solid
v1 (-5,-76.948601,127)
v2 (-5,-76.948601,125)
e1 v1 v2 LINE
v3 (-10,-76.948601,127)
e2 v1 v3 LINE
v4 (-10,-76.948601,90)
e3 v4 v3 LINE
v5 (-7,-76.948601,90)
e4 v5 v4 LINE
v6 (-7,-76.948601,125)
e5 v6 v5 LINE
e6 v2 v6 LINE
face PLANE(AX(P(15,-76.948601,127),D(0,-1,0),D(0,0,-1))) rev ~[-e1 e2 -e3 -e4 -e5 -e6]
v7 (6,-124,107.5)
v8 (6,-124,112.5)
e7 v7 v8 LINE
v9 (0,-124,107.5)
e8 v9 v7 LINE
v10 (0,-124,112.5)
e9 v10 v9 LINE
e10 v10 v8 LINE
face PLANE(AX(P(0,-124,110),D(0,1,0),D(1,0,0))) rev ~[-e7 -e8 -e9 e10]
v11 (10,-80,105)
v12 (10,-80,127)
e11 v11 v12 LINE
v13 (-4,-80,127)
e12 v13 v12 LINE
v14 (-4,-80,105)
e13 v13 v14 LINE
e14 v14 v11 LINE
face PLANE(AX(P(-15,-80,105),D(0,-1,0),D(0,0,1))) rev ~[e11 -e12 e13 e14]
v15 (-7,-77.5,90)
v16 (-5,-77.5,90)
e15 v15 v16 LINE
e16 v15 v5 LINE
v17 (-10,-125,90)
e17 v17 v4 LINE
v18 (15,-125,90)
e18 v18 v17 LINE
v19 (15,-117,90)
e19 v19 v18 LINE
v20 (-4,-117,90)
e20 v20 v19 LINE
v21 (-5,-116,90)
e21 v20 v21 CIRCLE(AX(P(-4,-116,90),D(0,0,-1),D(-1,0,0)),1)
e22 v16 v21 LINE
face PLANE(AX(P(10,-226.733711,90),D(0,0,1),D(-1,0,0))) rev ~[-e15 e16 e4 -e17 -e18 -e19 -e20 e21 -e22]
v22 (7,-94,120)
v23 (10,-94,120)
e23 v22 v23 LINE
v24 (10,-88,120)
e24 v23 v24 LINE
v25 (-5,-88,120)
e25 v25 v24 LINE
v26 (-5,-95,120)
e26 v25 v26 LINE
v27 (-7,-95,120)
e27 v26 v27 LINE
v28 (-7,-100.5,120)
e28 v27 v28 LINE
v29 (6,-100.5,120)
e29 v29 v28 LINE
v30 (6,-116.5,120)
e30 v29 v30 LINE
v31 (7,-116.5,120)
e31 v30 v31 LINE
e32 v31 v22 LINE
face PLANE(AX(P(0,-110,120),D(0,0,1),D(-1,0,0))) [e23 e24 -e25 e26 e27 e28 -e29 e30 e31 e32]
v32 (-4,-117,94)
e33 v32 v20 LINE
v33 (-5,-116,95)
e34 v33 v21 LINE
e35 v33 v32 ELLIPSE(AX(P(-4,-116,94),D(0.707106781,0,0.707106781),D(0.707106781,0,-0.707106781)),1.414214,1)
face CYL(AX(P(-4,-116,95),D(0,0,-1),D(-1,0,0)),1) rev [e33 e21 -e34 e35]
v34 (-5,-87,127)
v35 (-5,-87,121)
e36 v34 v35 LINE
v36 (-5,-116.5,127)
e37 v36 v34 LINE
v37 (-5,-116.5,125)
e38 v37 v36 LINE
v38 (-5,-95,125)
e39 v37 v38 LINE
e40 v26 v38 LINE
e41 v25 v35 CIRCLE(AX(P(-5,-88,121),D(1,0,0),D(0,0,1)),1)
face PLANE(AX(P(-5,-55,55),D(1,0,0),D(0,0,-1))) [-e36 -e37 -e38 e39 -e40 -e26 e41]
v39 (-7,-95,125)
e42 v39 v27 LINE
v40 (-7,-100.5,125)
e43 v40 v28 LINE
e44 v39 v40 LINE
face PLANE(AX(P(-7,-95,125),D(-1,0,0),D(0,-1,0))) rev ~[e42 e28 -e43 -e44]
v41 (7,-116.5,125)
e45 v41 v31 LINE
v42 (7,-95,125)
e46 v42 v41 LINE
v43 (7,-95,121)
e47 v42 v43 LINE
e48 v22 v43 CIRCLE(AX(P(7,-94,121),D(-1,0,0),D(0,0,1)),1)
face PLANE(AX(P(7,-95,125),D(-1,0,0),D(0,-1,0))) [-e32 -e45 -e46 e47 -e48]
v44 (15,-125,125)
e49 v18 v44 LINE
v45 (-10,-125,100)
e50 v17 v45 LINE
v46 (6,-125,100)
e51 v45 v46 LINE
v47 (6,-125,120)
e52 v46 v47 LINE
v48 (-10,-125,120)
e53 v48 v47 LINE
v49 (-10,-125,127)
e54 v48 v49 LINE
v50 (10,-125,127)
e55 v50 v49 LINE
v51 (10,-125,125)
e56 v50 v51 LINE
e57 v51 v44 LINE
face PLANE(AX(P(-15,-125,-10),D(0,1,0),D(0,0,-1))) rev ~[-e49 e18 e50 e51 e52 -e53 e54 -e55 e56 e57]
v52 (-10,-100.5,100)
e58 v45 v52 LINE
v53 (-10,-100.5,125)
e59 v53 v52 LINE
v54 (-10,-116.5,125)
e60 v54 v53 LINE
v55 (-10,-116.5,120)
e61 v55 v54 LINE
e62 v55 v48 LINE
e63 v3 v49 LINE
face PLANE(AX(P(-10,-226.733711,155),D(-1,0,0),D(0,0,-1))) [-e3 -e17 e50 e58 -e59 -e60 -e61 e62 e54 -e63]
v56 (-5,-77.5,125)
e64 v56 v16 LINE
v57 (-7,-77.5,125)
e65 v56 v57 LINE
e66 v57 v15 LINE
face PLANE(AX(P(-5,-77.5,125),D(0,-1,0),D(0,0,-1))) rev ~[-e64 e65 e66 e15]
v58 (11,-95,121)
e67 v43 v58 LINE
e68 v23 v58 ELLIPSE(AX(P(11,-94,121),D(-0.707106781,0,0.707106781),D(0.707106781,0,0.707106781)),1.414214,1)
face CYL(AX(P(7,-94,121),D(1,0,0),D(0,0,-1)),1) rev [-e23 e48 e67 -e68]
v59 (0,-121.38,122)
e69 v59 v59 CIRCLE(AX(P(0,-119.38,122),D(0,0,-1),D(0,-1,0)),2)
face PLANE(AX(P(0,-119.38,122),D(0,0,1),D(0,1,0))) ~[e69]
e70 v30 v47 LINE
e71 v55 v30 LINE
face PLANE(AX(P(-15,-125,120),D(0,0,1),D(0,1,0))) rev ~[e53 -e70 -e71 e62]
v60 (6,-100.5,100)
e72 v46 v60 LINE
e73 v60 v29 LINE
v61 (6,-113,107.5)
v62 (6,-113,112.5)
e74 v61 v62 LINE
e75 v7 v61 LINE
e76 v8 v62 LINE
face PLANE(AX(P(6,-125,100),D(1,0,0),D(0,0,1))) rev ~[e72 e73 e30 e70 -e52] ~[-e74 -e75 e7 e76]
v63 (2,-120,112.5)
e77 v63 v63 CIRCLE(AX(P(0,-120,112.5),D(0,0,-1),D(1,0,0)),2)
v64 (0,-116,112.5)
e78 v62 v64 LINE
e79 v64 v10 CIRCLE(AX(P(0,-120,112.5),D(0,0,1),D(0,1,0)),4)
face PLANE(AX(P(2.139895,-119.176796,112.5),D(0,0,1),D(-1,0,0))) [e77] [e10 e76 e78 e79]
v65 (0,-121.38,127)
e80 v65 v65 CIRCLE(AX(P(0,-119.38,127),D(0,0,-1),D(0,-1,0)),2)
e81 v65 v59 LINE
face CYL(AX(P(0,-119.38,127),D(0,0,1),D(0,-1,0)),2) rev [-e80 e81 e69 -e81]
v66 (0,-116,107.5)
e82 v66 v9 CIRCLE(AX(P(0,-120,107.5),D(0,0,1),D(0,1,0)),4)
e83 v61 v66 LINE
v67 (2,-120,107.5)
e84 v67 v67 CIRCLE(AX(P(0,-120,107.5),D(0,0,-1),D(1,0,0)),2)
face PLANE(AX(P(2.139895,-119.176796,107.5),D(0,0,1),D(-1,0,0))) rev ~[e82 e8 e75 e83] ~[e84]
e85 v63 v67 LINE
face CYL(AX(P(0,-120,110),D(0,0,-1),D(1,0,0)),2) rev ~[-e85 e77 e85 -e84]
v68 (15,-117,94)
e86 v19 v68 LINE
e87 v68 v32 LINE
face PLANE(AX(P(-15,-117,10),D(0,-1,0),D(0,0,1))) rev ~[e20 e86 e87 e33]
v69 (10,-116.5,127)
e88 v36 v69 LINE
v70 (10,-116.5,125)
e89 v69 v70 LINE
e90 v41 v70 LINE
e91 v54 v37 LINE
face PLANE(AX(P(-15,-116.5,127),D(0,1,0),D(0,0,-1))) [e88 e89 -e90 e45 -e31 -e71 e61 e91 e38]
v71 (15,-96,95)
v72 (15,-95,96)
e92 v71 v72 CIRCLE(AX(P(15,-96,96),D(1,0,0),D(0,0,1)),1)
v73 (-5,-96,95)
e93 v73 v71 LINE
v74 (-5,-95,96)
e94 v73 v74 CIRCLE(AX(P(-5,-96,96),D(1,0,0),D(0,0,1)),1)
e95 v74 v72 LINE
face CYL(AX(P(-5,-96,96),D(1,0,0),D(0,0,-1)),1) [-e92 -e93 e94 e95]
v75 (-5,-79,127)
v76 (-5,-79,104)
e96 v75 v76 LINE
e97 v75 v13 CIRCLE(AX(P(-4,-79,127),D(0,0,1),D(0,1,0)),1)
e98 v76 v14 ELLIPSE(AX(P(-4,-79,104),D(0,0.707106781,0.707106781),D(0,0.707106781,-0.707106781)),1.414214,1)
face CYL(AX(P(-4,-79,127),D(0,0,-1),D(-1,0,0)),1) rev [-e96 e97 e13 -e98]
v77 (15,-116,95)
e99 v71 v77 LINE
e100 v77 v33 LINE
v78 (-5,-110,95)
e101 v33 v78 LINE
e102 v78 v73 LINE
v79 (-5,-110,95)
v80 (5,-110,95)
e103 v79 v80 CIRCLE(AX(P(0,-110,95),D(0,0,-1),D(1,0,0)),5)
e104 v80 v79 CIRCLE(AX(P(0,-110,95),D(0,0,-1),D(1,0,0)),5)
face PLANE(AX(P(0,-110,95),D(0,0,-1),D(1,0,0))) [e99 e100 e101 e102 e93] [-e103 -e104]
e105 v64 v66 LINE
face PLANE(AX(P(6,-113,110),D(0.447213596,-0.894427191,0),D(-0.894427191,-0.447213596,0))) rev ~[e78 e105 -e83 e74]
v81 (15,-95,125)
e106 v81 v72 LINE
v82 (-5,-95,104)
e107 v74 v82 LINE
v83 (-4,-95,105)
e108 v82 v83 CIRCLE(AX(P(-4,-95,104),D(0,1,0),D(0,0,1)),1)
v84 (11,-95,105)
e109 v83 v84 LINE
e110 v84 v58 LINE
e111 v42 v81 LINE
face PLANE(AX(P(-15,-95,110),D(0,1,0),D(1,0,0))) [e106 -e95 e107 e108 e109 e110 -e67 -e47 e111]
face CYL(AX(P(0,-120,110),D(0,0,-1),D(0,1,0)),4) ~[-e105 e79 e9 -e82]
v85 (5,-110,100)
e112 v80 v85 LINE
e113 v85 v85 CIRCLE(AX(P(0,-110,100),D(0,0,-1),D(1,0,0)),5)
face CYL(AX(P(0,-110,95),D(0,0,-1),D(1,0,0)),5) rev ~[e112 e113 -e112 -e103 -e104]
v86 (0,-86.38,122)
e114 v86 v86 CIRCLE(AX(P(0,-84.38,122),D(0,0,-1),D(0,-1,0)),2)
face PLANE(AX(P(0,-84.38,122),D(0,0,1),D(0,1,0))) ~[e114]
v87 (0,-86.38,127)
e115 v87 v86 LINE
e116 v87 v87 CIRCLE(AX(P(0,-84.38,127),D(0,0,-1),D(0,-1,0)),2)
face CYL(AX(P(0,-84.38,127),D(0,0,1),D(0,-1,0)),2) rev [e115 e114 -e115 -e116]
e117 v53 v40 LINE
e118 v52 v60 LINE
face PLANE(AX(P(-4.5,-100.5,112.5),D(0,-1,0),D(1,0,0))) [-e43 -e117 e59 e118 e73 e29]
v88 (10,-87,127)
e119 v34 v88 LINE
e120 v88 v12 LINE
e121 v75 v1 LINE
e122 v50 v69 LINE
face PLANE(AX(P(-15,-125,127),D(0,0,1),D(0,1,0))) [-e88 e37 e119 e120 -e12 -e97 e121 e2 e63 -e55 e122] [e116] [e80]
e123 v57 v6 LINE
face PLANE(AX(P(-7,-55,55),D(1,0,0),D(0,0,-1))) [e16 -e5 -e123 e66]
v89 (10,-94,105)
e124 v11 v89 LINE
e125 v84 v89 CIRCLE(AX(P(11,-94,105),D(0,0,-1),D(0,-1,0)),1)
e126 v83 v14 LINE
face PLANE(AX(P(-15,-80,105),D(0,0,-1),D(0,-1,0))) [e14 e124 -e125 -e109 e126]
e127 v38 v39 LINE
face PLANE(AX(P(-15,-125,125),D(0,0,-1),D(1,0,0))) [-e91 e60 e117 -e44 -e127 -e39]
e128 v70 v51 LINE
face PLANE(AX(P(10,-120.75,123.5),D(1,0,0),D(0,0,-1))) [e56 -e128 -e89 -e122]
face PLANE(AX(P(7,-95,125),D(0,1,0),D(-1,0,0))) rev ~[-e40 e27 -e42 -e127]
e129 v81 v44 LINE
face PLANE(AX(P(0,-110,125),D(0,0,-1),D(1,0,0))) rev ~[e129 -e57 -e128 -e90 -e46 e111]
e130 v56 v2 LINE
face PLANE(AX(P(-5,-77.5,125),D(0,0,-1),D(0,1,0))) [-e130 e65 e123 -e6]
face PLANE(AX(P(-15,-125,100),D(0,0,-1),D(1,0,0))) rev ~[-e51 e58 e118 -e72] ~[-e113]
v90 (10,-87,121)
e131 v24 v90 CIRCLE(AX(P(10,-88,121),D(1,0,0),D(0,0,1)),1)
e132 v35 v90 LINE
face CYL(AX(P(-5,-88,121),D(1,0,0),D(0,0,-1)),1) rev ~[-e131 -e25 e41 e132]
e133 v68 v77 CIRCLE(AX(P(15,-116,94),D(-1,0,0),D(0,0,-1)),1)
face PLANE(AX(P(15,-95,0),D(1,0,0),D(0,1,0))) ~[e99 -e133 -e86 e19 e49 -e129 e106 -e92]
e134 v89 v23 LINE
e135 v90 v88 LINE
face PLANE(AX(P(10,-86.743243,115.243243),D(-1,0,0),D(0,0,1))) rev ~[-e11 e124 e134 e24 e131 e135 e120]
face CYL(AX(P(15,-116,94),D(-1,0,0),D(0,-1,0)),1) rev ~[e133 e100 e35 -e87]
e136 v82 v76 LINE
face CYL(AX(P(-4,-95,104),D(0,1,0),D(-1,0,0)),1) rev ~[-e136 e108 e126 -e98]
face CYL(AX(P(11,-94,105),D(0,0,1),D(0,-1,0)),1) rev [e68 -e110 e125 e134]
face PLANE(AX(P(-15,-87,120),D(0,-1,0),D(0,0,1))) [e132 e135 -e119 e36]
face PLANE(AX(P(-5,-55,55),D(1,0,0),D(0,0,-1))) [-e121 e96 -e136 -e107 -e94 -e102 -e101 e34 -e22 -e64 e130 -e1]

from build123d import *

# Parameters (mm, degrees)
SKETCH_2_W                                 = 30
SKETCH_2_H                                 = 30
EXTRUDE_2_DEPTH                            = 15
SKETCH_3_W                                 = 21
SKETCH_3_H                                 = 25
CUT_EXTRUDE_1_DEPTH                        = 24.5
SKETCH_4_R                                 = 5
CUT_EXTRUDE_2_DEPTH                        = 37.742346142
EXTRUDE_3_DEPTH                            = 2.5
SKETCH_6_W                                 = 14
SKETCH_6_H                                 = 30
CUT_EXTRUDE_3_DEPTH                        = 5
SKETCH_8_R                                 = 2
CUT_EXTRUDE_4_DEPTH                        = 2.5
EXTRUDE_4_DEPTH                            = 10
MIRROR_18_AT_THE_SECOND_PLANE_COPY_1_SKE_W = 30
MIRROR_18_AT_THE_SECOND_PLANE_COPY_1_SKE_H = 30
MIRROR_18_AT_THE_SECOND_PLANE_COPY_1_DEPTH = 15
MIRROR_18_AT_THE_SECOND_PLANE_COPY_2_SKE_W = 21
MIRROR_18_AT_THE_SECOND_PLANE_COPY_2_SKE_H = 25
MIRROR_18_AT_THE_SECOND_PLANE_COPY_2_DEPTH = 24.5
MIRROR_18_AT_THE_SECOND_PLANE_COPY_3_SKE_R = 5
MIRROR_18_AT_THE_SECOND_PLANE_COPY_3_DEPTH = 37.742346142
MIRROR_14_AT_THE_SECOND_PLANE_COPY_1_DEPTH = 2.5
MIRROR_14_AT_THE_SECOND_PLANE_COPY_2_SKE_R = 2
MIRROR_14_AT_THE_SECOND_PLANE_COPY_2_DEPTH = 2.5
MIRROR_19_AT_THE_SECOND_PLANE_COPY_1_SKE_W = 14
MIRROR_19_AT_THE_SECOND_PLANE_COPY_1_SKE_H = 30
MIRROR_19_AT_THE_SECOND_PLANE_COPY_1_DEPTH = 5
SKETCH_10_W                                = 90
SKETCH_10_H                                = 8
EXTRUDE_5_DEPTH                            = 30
EXTRUDE_6_DEPTH                            = 15
EXTRUDE_6_DEPTH_BACK                       = 10
SKETCH_11_W                                = 7
SKETCH_11_H                                = 8.5
SKETCH_12_W                                = 140
SKETCH_12_H                                = 45
CUT_EXTRUDE_5_DEPTH                        = 2
SKETCH_15_R                                = 2.5
SKETCH_15_W                                = 15
SKETCH_15_H                                = 40
SKETCH_15_W_2                              = 25
SKETCH_15_H_2                              = 11.861851271
CUT_EXTRUDE_7_DEPTH                        = 201.124960962
SKETCH_14_R                                = 2
CUT_EXTRUDE_6_DEPTH                        = 5
FILLET_1_R                                 = 5
SKETCH_17_R                                = 2
CUT_EXTRUDE_8_DEPTH                        = 5
SKETCH_14_6_R                              = 2
CUT_EXTRUDE_9_DEPTH                        = 25
SKETCH_18_R                                = 4.3
CUT_EXTRUDE_10_DEPTH                       = 6
FILLET_2_R                                 = 1
CUT_EXTRUDE_11_DEPTH                       = 171.73371079
CUT_EXTRUDE_11_DEPTH_BACK                  = 171.73371079
SKETCH_19_W                                = 5
SKETCH_19_H                                = 200
CUT_EXTRUDE_12_DEPTH                       = 201.686322404


with BuildPart() as part:
    # 草圖2 → 填料-伸長2 (new, symmetric)
    with BuildSketch(Plane.XY):
        Rectangle(SKETCH_2_W, SKETCH_2_H)
    extrude_2 = extrude(amount=EXTRUDE_2_DEPTH, both=True)

    # 草圖3 → 除料-伸長1 (cut)
    with BuildSketch(Plane(origin=(0, 15, 0), x_dir=(1, 0, 0), z_dir=(0, 1, 0))):
        with Locations((-4.5, 2.5)):
            Rectangle(SKETCH_3_W, SKETCH_3_H)
    cut_extrude_1 = extrude(amount=-CUT_EXTRUDE_1_DEPTH, mode=Mode.SUBTRACT)

    # 草圖4 → 除料-伸長2 (cut, through all)
    with BuildSketch(Plane.XY.offset(15)):
        Circle(SKETCH_4_R)
    cut_extrude_2 = extrude(amount=-CUT_EXTRUDE_2_DEPTH, mode=Mode.SUBTRACT)

    # 草圖6 → 除料-伸長3 (cut)
    with BuildSketch(Plane(origin=(0, 0, -15), x_dir=(-1, 0, 0), z_dir=(0, 0, -1))):
        Rectangle(SKETCH_6_W, SKETCH_6_H)
    cut_extrude_3 = extrude(amount=-CUT_EXTRUDE_3_DEPTH, mode=Mode.SUBTRACT)

    # 草圖9 → 填料-伸長4 (add)
    with BuildSketch(Plane.ZY.offset(15)):
        Polygon((-45, 15), (-10, 15), (-10, -9.5), (10, -9.5), (10, 15), (100, 15), (100, -9.5), (120, -9.5), (120, 15), (155, 15), (155, -125), (120, -125), (120, -100.5), (100, -100.5), (100, -125), (10, -125), (10, -100.5), (-10, -100.5), (-10, -125), (-45, -125), align=None)
    extrude(amount=-EXTRUDE_4_DEPTH)

    # 鏡射18: 填料-伸長2, 除料-伸長1, 除料-伸長2 across plane
    add(extrude_2.mirror(Plane.ZX.offset(-55)))
    add(cut_extrude_1.mirror(Plane.ZX.offset(-55)), mode=Mode.SUBTRACT)
    add(cut_extrude_2.mirror(Plane.ZX.offset(-55)), mode=Mode.SUBTRACT)

    # 鏡射18 at the second plane: 填料-伸長2, 除料-伸長1, 除料-伸長2 across plane
    add(extrude_2.mirror(Plane.XY.offset(55)))
    add(cut_extrude_1.mirror(Plane.XY.offset(55)), mode=Mode.SUBTRACT)
    add(cut_extrude_2.mirror(Plane.XY.offset(55)), mode=Mode.SUBTRACT)

    # 鏡射18 at the second plane copy 1 ske → 鏡射18 at the second plane copy 1 (add, symmetric)
    with BuildSketch(Plane(origin=(0, -110, 110), x_dir=(1, 0, 0), z_dir=(0, 0, -1))):
        Rectangle(MIRROR_18_AT_THE_SECOND_PLANE_COPY_1_SKE_W, MIRROR_18_AT_THE_SECOND_PLANE_COPY_1_SKE_H)
    extrude(amount=MIRROR_18_AT_THE_SECOND_PLANE_COPY_1_DEPTH, both=True)

    # 鏡射18 at the second plane copy 2 ske → 鏡射18 at the second plane copy 2 (cut)
    with BuildSketch(Plane(origin=(0, -125, 110), x_dir=(1, 0, 0), z_dir=(0, -1, 0))):
        with Locations((-4.5, 2.5)):
            Rectangle(MIRROR_18_AT_THE_SECOND_PLANE_COPY_2_SKE_W, MIRROR_18_AT_THE_SECOND_PLANE_COPY_2_SKE_H)
    extrude(amount=-MIRROR_18_AT_THE_SECOND_PLANE_COPY_2_DEPTH, mode=Mode.SUBTRACT)

    # 鏡射18 at the second plane copy 3 ske → 鏡射18 at the second plane copy 3 (cut, through all)
    with BuildSketch(Plane(origin=(0, -110, 95), x_dir=(1, 0, 0), z_dir=(0, 0, -1))):
        Circle(MIRROR_18_AT_THE_SECOND_PLANE_COPY_3_SKE_R)
    extrude(amount=-MIRROR_18_AT_THE_SECOND_PLANE_COPY_3_DEPTH, mode=Mode.SUBTRACT)


with BuildPart() as body_2:
    # 草圖5 → 填料-伸長3 (new, symmetric)
    with BuildSketch(Plane.XY):
        with BuildLine():
            Line((0, 14), (6, 14))
            Line((6, 14), (6, 6))
            Line((6, 6), (6, 3))
            Line((6, 3), (0, 6))
            ThreePointArc((0, 6), (-4, 10), (0, 14))
        make_face()
    extrude_3 = extrude(amount=EXTRUDE_3_DEPTH, both=True)

    # 草圖8 → 除料-伸長4 (cut, symmetric)
    with BuildSketch(Plane.XY):
        with Locations((0, 10)):
            Circle(SKETCH_8_R)
    cut_extrude_4 = extrude(amount=CUT_EXTRUDE_4_DEPTH, both=True, mode=Mode.SUBTRACT)


with BuildPart() as part_1:
    add(part.part)

    # 鏡射14: 填料-伸長3, 除料-伸長4 across plane
    add(extrude_3.mirror(Plane.ZX.offset(-55)))
    add(cut_extrude_4.mirror(Plane.ZX.offset(-55)), mode=Mode.SUBTRACT)

    # 鏡射14 at the second plane: 填料-伸長3, 除料-伸長4 across plane
    add(extrude_3.mirror(Plane.XY.offset(55)))
    add(cut_extrude_4.mirror(Plane.XY.offset(55)), mode=Mode.SUBTRACT)

    # 鏡射14 at the second plane copy 1 ske → 鏡射14 at the second plane copy 1 (add, symmetric)
    with BuildSketch(Plane(origin=(0, -110, 110), x_dir=(1, 0, 0), z_dir=(0, 0, -1))):
        with BuildLine():
            Line((0, 14), (6, 14))
            Line((6, 14), (6, 6))
            Line((6, 6), (6, 3))
            Line((6, 3), (0, 6))
            ThreePointArc((0, 6), (-4, 10), (0, 14))
        make_face()
    extrude(amount=MIRROR_14_AT_THE_SECOND_PLANE_COPY_1_DEPTH, both=True)

    # 鏡射14 at the second plane copy 2 ske → 鏡射14 at the second plane copy 2 (cut, symmetric)
    with BuildSketch(Plane(origin=(0, -110, 110), x_dir=(1, 0, 0), z_dir=(0, 0, -1))):
        with Locations((0, 10)):
            Circle(MIRROR_14_AT_THE_SECOND_PLANE_COPY_2_SKE_R)
    extrude(amount=MIRROR_14_AT_THE_SECOND_PLANE_COPY_2_DEPTH, both=True, mode=Mode.SUBTRACT)

    # 鏡射19: 除料-伸長3 across plane
    add(cut_extrude_3.mirror(Plane.XY.offset(55)), mode=Mode.SUBTRACT)

    # 鏡射19 at the second plane: 除料-伸長3 across plane
    add(cut_extrude_3.mirror(Plane.ZX.offset(-55)), mode=Mode.SUBTRACT)

    # 鏡射19 at the second plane copy 1 ske → 鏡射19 at the second plane copy 1 (cut)
    with BuildSketch(Plane(origin=(0, -110, 125), x_dir=(-1, 0, 0), z_dir=(0, 0, 1))):
        Rectangle(MIRROR_19_AT_THE_SECOND_PLANE_COPY_1_SKE_W, MIRROR_19_AT_THE_SECOND_PLANE_COPY_1_SKE_H)
    extrude(amount=-MIRROR_19_AT_THE_SECOND_PLANE_COPY_1_DEPTH, mode=Mode.SUBTRACT)

    # 草圖10 → 填料-伸長5 (add)
    with BuildSketch(Plane.ZY.offset(15)):
        with Locations((55, 11)):
            Rectangle(SKETCH_10_W, SKETCH_10_H)
        with Locations((55, -121)):
            Rectangle(SKETCH_10_W, SKETCH_10_H)
    extrude(amount=-EXTRUDE_5_DEPTH)

    # 草圖11 → 填料-伸長6 (add, two sides: drawn at the far end of the back side and taken through both)
    with BuildSketch(Plane(origin=(-5, 0, 0), x_dir=(0, 0, -1), z_dir=(1, 0, 0)).offset(-EXTRUDE_6_DEPTH_BACK)):
        with Locations((13.5, 10.75)):
            Rectangle(SKETCH_11_W, SKETCH_11_H)
        with Locations((13.5, -120.75)):
            Rectangle(SKETCH_11_W, SKETCH_11_H)
        Polygon((12.973156493, -80), (17, -80), (17, -87), (10, -87), (10, -95), (-5, -95), (-5, -80), align=None)
        with Locations((-123.5, -120.75)):
            Rectangle(SKETCH_11_W, SKETCH_11_H)
        Polygon((-120, -87), (-127, -87), (-127, -80), (-122.973156493, -80), (-105, -80), (-105, -95), (-120, -95), align=None)
        Polygon((10, -23), (17, -23), (17, -30), (12.973156493, -30), (-5, -30), (-5, -15), (10, -15), align=None)
        Polygon((-122.973156493, -30), (-127, -30), (-127, -23), (-120, -23), (-120, -15), (-105, -15), (-105, -30), align=None)
        with Locations((-123.5, 10.75)):
            Rectangle(SKETCH_11_W, SKETCH_11_H)
    extrude(amount=EXTRUDE_6_DEPTH + EXTRUDE_6_DEPTH_BACK)

    # 草圖12 → 除料-伸長5 (cut)
    with BuildSketch(Plane(origin=(-5, 0, 0), x_dir=(0, 0, -1), z_dir=(1, 0, 0))):
        with Locations((-55, -55)):
            Rectangle(SKETCH_12_W, SKETCH_12_H)
    extrude(amount=-CUT_EXTRUDE_5_DEPTH, mode=Mode.SUBTRACT)

    # 草圖15 → 除料-伸長7 (cut, through all)
    with BuildSketch(Plane(origin=(-5, 0, 0), x_dir=(0, 0, -1), z_dir=(1, 0, 0))):
        with Locations(Location((30, -90, 0), (0, 0, 270))):
            Circle(SKETCH_15_R)
        with Locations(Location((-55, -90, 0), (0, 0, 270))):
            Circle(SKETCH_15_R)
        with Locations(Location((-140, -90, 0), (0, 0, 270))):
            Circle(SKETCH_15_R)
        with Locations(Location((-140, -20, 0), (0, 0, 90))):
            Circle(SKETCH_15_R)
        with Locations(Location((30, -20, 0), (0, 0, 90))):
            Circle(SKETCH_15_R)
        with Locations(Location((-55, -20, 0), (0, 0, 90))):
            Circle(SKETCH_15_R)
        with Locations((-139.005709801, -55)):
            Rectangle(SKETCH_15_W, SKETCH_15_H)
        with Locations((29.005709801, -55)):
            Rectangle(SKETCH_15_W, SKETCH_15_H)
        with Locations((-77.5, -30)):
            Rectangle(SKETCH_15_W_2, SKETCH_15_H)
        with Locations((-77.5, -80)):
            Rectangle(SKETCH_15_W_2, SKETCH_15_H)
        with Locations((-32.5, -80)):
            Rectangle(SKETCH_15_W_2, SKETCH_15_H)
        with Locations((-32.5, -30)):
            Rectangle(SKETCH_15_W_2, SKETCH_15_H)
        with Locations((-139.005709801, -106.804819835)):
            Rectangle(SKETCH_15_W, SKETCH_15_H_2)
        with Locations((-139.005709801, -3.195180166)):
            Rectangle(SKETCH_15_W, SKETCH_15_H_2)
        with Locations((29.005709801, -106.804819835)):
            Rectangle(SKETCH_15_W, SKETCH_15_H_2)
        with Locations((29.005709801, -3.195180166)):
            Rectangle(SKETCH_15_W, SKETCH_15_H_2)
    extrude(amount=-CUT_EXTRUDE_7_DEPTH, mode=Mode.SUBTRACT)

    # 草圖14 → 除料-伸長6 (cut)
    with BuildSketch(Plane(origin=(15, 0, 0), x_dir=(0, 0, -1), z_dir=(1, 0, 0))):
        with Locations(Location((-55, 11, 0), (0, 0, 90))):
            Circle(SKETCH_14_R)
        with Locations(Location((-55, -121, 0), (0, 0, 270))):
            Circle(SKETCH_14_R)
    extrude(amount=-CUT_EXTRUDE_6_DEPTH, mode=Mode.SUBTRACT)

    # 圓角1
    fillet_1_edges = [part_1.edges().sort_by_distance(p)[0] for p in [
        (-10, -125, -45),
        (-10, 15, -45),
        (-10, 15, 155),
        (-10, -125, 155),
        (-10, -75, 146.505709801),
        (-10, -35, 146.505709801),
        (-10, -35, 131.505709801),
        (-10, -75, 131.505709801),
        (-10, -35, -36.505709801),
        (-10, -75, -36.505709801),
        (-10, -75, -21.505709801),
        (-10, -35, -21.505709801),
    ]]
    fillet(fillet_1_edges, radius=FILLET_1_R)

    # 草圖17 → 除料-伸長8 (cut)
    with BuildSketch(Plane(origin=(0, 0, -17), x_dir=(-1, 0, 0), z_dir=(0, 0, -1))):
        with Locations(Location((0, 9.38, 0), (0, 0, 90))):
            Circle(SKETCH_17_R)
        with Locations(Location((0, -25.62, 0), (0, 0, 90))):
            Circle(SKETCH_17_R)
        with Locations(Location((0, -84.38, 0), (0, 0, 270))):
            Circle(SKETCH_17_R)
        with Locations(Location((0, -119.38, 0), (0, 0, 270))):
            Circle(SKETCH_17_R)
    cut_extrude_8 = extrude(amount=-CUT_EXTRUDE_8_DEPTH, mode=Mode.SUBTRACT)

    # 鏡射20: 除料-伸長8 across plane
    add(cut_extrude_8.mirror(Plane.XY.offset(55)), mode=Mode.SUBTRACT)

    # 草圖14<6> → 除料-伸長9 (cut)
    with BuildSketch(Plane(origin=(15, 0, 0), x_dir=(0, 0, -1), z_dir=(1, 0, 0))):
        with Locations(Location((39, 9, 0), (0, 0, 90))):
            Circle(SKETCH_14_6_R)
        with Locations(Location((-149, 9, 0), (0, 0, 270))):
            Circle(SKETCH_14_6_R)
        with Locations(Location((39, -119, 0), (0, 0, 270))):
            Circle(SKETCH_14_6_R)
        with Locations(Location((-149, -119, 0), (0, 0, 90))):
            Circle(SKETCH_14_6_R)
    extrude(amount=-CUT_EXTRUDE_9_DEPTH, mode=Mode.SUBTRACT)

    # 草圖18 → 除料-伸長10 (cut)
    with BuildSketch(Plane(origin=(-5, 0, 0), x_dir=(0, 0, -1), z_dir=(1, 0, 0))):
        with Locations(Location((30, -90, 0), (0, 0, 90))):
            Circle(SKETCH_18_R)
        with Locations(Location((-55, -90, 0), (0, 0, 90))):
            Circle(SKETCH_18_R)
        with Locations(Location((-140, -90, 0), (0, 0, 90))):
            Circle(SKETCH_18_R)
        with Locations(Location((-140, -20, 0), (0, 0, 90))):
            Circle(SKETCH_18_R)
        with Locations(Location((-55, -20, 0), (0, 0, 90))):
            Circle(SKETCH_18_R)
        with Locations(Location((30, -20, 0), (0, 0, 90))):
            Circle(SKETCH_18_R)
    extrude(amount=-CUT_EXTRUDE_10_DEPTH, mode=Mode.SUBTRACT)

    # 圓角2
    fillet_2_edges = [part_1.edges().sort_by_distance(p)[0] for p in [
        (5, -15, 95),
        (5, -95, 15),
        (5, -95, 95),
        (-5, 7, 55),
        (5, 7, 15),
        (5, 7, 95),
        (-5, -117, 55),
        (5, -117, 15),
        (5, -117, 95),
        (-5, -80, 116),
        (2.5, -87, 120),
        (8.5, -95, 120),
        (-5, -87.5, 105),
        (10, -95, 112.5),
        (-5, -22.5, 105),
        (-5, -30, 116),
        (2.5, -23, 120),
        (8.5, -15, 120),
        (10, -15, 112.5),
        (-5, -30, -6),
        (8.5, -15, -10),
        (2.5, -23, -10),
        (10, -15, -2.5),
        (5, -15, 15),
        (-5, -80, -6),
        (2.5, -87, -10),
        (8.5, -95, -10),
        (10, -95, -2.5),
    ]]
    fillet(fillet_2_edges, radius=FILLET_2_R)

    # 草圖19 → 除料-伸長11 (cut, two sides: drawn at the far end of the back side and taken through both)
    with BuildSketch(Plane(origin=(0, -55, 0), x_dir=(1, 0, 0), z_dir=(0, 1, 0)).offset(-CUT_EXTRUDE_11_DEPTH_BACK)):
        Polygon((-5, -20), (-5, -38.623236893), (10, -20), align=None)
        Polygon((10, -26.376763107), (-5, -45), (10, -45), align=None)
        Polygon((10, -90), (-5, -90), (-5, -71.376763107), align=None)
        Polygon((-5, -65), (10, -65), (10, -83.623236893), align=None)
        with Locations((-12.5, -55)):
            Rectangle(SKETCH_19_W, SKETCH_19_H)
    extrude(amount=CUT_EXTRUDE_11_DEPTH + CUT_EXTRUDE_11_DEPTH_BACK, mode=Mode.SUBTRACT)


with BuildPart() as cut_extrude_12_tool:
    # 草圖20 → 除料-伸長12 (new, through all)
    with BuildSketch(Plane(origin=(15, 0, 0), x_dir=(0, 0, -1), z_dir=(1, 0, 0))):
        Polygon((-127, -125), (-127, -76.948600706), (-90, -76.948600706), (-90, -125), (55.024722499, -125), (55.024722499, 33.114224964), (-156.187885381, 33.114224964), (-156.187885381, -125), align=None)
    extrude(amount=-CUT_EXTRUDE_12_DEPTH)


with BuildPart() as part_2:
    add(part_1.part)

    # 除料-伸長12: cut by cut_extrude_12_tool
    add(cut_extrude_12_tool.part, mode=Mode.SUBTRACT)


with BuildPart() as body_2_1:
    add(body_2.part)

    # 除料-伸長12: cut by cut_extrude_12_tool
    add(cut_extrude_12_tool.part, mode=Mode.SUBTRACT)


solid = part_2.part
